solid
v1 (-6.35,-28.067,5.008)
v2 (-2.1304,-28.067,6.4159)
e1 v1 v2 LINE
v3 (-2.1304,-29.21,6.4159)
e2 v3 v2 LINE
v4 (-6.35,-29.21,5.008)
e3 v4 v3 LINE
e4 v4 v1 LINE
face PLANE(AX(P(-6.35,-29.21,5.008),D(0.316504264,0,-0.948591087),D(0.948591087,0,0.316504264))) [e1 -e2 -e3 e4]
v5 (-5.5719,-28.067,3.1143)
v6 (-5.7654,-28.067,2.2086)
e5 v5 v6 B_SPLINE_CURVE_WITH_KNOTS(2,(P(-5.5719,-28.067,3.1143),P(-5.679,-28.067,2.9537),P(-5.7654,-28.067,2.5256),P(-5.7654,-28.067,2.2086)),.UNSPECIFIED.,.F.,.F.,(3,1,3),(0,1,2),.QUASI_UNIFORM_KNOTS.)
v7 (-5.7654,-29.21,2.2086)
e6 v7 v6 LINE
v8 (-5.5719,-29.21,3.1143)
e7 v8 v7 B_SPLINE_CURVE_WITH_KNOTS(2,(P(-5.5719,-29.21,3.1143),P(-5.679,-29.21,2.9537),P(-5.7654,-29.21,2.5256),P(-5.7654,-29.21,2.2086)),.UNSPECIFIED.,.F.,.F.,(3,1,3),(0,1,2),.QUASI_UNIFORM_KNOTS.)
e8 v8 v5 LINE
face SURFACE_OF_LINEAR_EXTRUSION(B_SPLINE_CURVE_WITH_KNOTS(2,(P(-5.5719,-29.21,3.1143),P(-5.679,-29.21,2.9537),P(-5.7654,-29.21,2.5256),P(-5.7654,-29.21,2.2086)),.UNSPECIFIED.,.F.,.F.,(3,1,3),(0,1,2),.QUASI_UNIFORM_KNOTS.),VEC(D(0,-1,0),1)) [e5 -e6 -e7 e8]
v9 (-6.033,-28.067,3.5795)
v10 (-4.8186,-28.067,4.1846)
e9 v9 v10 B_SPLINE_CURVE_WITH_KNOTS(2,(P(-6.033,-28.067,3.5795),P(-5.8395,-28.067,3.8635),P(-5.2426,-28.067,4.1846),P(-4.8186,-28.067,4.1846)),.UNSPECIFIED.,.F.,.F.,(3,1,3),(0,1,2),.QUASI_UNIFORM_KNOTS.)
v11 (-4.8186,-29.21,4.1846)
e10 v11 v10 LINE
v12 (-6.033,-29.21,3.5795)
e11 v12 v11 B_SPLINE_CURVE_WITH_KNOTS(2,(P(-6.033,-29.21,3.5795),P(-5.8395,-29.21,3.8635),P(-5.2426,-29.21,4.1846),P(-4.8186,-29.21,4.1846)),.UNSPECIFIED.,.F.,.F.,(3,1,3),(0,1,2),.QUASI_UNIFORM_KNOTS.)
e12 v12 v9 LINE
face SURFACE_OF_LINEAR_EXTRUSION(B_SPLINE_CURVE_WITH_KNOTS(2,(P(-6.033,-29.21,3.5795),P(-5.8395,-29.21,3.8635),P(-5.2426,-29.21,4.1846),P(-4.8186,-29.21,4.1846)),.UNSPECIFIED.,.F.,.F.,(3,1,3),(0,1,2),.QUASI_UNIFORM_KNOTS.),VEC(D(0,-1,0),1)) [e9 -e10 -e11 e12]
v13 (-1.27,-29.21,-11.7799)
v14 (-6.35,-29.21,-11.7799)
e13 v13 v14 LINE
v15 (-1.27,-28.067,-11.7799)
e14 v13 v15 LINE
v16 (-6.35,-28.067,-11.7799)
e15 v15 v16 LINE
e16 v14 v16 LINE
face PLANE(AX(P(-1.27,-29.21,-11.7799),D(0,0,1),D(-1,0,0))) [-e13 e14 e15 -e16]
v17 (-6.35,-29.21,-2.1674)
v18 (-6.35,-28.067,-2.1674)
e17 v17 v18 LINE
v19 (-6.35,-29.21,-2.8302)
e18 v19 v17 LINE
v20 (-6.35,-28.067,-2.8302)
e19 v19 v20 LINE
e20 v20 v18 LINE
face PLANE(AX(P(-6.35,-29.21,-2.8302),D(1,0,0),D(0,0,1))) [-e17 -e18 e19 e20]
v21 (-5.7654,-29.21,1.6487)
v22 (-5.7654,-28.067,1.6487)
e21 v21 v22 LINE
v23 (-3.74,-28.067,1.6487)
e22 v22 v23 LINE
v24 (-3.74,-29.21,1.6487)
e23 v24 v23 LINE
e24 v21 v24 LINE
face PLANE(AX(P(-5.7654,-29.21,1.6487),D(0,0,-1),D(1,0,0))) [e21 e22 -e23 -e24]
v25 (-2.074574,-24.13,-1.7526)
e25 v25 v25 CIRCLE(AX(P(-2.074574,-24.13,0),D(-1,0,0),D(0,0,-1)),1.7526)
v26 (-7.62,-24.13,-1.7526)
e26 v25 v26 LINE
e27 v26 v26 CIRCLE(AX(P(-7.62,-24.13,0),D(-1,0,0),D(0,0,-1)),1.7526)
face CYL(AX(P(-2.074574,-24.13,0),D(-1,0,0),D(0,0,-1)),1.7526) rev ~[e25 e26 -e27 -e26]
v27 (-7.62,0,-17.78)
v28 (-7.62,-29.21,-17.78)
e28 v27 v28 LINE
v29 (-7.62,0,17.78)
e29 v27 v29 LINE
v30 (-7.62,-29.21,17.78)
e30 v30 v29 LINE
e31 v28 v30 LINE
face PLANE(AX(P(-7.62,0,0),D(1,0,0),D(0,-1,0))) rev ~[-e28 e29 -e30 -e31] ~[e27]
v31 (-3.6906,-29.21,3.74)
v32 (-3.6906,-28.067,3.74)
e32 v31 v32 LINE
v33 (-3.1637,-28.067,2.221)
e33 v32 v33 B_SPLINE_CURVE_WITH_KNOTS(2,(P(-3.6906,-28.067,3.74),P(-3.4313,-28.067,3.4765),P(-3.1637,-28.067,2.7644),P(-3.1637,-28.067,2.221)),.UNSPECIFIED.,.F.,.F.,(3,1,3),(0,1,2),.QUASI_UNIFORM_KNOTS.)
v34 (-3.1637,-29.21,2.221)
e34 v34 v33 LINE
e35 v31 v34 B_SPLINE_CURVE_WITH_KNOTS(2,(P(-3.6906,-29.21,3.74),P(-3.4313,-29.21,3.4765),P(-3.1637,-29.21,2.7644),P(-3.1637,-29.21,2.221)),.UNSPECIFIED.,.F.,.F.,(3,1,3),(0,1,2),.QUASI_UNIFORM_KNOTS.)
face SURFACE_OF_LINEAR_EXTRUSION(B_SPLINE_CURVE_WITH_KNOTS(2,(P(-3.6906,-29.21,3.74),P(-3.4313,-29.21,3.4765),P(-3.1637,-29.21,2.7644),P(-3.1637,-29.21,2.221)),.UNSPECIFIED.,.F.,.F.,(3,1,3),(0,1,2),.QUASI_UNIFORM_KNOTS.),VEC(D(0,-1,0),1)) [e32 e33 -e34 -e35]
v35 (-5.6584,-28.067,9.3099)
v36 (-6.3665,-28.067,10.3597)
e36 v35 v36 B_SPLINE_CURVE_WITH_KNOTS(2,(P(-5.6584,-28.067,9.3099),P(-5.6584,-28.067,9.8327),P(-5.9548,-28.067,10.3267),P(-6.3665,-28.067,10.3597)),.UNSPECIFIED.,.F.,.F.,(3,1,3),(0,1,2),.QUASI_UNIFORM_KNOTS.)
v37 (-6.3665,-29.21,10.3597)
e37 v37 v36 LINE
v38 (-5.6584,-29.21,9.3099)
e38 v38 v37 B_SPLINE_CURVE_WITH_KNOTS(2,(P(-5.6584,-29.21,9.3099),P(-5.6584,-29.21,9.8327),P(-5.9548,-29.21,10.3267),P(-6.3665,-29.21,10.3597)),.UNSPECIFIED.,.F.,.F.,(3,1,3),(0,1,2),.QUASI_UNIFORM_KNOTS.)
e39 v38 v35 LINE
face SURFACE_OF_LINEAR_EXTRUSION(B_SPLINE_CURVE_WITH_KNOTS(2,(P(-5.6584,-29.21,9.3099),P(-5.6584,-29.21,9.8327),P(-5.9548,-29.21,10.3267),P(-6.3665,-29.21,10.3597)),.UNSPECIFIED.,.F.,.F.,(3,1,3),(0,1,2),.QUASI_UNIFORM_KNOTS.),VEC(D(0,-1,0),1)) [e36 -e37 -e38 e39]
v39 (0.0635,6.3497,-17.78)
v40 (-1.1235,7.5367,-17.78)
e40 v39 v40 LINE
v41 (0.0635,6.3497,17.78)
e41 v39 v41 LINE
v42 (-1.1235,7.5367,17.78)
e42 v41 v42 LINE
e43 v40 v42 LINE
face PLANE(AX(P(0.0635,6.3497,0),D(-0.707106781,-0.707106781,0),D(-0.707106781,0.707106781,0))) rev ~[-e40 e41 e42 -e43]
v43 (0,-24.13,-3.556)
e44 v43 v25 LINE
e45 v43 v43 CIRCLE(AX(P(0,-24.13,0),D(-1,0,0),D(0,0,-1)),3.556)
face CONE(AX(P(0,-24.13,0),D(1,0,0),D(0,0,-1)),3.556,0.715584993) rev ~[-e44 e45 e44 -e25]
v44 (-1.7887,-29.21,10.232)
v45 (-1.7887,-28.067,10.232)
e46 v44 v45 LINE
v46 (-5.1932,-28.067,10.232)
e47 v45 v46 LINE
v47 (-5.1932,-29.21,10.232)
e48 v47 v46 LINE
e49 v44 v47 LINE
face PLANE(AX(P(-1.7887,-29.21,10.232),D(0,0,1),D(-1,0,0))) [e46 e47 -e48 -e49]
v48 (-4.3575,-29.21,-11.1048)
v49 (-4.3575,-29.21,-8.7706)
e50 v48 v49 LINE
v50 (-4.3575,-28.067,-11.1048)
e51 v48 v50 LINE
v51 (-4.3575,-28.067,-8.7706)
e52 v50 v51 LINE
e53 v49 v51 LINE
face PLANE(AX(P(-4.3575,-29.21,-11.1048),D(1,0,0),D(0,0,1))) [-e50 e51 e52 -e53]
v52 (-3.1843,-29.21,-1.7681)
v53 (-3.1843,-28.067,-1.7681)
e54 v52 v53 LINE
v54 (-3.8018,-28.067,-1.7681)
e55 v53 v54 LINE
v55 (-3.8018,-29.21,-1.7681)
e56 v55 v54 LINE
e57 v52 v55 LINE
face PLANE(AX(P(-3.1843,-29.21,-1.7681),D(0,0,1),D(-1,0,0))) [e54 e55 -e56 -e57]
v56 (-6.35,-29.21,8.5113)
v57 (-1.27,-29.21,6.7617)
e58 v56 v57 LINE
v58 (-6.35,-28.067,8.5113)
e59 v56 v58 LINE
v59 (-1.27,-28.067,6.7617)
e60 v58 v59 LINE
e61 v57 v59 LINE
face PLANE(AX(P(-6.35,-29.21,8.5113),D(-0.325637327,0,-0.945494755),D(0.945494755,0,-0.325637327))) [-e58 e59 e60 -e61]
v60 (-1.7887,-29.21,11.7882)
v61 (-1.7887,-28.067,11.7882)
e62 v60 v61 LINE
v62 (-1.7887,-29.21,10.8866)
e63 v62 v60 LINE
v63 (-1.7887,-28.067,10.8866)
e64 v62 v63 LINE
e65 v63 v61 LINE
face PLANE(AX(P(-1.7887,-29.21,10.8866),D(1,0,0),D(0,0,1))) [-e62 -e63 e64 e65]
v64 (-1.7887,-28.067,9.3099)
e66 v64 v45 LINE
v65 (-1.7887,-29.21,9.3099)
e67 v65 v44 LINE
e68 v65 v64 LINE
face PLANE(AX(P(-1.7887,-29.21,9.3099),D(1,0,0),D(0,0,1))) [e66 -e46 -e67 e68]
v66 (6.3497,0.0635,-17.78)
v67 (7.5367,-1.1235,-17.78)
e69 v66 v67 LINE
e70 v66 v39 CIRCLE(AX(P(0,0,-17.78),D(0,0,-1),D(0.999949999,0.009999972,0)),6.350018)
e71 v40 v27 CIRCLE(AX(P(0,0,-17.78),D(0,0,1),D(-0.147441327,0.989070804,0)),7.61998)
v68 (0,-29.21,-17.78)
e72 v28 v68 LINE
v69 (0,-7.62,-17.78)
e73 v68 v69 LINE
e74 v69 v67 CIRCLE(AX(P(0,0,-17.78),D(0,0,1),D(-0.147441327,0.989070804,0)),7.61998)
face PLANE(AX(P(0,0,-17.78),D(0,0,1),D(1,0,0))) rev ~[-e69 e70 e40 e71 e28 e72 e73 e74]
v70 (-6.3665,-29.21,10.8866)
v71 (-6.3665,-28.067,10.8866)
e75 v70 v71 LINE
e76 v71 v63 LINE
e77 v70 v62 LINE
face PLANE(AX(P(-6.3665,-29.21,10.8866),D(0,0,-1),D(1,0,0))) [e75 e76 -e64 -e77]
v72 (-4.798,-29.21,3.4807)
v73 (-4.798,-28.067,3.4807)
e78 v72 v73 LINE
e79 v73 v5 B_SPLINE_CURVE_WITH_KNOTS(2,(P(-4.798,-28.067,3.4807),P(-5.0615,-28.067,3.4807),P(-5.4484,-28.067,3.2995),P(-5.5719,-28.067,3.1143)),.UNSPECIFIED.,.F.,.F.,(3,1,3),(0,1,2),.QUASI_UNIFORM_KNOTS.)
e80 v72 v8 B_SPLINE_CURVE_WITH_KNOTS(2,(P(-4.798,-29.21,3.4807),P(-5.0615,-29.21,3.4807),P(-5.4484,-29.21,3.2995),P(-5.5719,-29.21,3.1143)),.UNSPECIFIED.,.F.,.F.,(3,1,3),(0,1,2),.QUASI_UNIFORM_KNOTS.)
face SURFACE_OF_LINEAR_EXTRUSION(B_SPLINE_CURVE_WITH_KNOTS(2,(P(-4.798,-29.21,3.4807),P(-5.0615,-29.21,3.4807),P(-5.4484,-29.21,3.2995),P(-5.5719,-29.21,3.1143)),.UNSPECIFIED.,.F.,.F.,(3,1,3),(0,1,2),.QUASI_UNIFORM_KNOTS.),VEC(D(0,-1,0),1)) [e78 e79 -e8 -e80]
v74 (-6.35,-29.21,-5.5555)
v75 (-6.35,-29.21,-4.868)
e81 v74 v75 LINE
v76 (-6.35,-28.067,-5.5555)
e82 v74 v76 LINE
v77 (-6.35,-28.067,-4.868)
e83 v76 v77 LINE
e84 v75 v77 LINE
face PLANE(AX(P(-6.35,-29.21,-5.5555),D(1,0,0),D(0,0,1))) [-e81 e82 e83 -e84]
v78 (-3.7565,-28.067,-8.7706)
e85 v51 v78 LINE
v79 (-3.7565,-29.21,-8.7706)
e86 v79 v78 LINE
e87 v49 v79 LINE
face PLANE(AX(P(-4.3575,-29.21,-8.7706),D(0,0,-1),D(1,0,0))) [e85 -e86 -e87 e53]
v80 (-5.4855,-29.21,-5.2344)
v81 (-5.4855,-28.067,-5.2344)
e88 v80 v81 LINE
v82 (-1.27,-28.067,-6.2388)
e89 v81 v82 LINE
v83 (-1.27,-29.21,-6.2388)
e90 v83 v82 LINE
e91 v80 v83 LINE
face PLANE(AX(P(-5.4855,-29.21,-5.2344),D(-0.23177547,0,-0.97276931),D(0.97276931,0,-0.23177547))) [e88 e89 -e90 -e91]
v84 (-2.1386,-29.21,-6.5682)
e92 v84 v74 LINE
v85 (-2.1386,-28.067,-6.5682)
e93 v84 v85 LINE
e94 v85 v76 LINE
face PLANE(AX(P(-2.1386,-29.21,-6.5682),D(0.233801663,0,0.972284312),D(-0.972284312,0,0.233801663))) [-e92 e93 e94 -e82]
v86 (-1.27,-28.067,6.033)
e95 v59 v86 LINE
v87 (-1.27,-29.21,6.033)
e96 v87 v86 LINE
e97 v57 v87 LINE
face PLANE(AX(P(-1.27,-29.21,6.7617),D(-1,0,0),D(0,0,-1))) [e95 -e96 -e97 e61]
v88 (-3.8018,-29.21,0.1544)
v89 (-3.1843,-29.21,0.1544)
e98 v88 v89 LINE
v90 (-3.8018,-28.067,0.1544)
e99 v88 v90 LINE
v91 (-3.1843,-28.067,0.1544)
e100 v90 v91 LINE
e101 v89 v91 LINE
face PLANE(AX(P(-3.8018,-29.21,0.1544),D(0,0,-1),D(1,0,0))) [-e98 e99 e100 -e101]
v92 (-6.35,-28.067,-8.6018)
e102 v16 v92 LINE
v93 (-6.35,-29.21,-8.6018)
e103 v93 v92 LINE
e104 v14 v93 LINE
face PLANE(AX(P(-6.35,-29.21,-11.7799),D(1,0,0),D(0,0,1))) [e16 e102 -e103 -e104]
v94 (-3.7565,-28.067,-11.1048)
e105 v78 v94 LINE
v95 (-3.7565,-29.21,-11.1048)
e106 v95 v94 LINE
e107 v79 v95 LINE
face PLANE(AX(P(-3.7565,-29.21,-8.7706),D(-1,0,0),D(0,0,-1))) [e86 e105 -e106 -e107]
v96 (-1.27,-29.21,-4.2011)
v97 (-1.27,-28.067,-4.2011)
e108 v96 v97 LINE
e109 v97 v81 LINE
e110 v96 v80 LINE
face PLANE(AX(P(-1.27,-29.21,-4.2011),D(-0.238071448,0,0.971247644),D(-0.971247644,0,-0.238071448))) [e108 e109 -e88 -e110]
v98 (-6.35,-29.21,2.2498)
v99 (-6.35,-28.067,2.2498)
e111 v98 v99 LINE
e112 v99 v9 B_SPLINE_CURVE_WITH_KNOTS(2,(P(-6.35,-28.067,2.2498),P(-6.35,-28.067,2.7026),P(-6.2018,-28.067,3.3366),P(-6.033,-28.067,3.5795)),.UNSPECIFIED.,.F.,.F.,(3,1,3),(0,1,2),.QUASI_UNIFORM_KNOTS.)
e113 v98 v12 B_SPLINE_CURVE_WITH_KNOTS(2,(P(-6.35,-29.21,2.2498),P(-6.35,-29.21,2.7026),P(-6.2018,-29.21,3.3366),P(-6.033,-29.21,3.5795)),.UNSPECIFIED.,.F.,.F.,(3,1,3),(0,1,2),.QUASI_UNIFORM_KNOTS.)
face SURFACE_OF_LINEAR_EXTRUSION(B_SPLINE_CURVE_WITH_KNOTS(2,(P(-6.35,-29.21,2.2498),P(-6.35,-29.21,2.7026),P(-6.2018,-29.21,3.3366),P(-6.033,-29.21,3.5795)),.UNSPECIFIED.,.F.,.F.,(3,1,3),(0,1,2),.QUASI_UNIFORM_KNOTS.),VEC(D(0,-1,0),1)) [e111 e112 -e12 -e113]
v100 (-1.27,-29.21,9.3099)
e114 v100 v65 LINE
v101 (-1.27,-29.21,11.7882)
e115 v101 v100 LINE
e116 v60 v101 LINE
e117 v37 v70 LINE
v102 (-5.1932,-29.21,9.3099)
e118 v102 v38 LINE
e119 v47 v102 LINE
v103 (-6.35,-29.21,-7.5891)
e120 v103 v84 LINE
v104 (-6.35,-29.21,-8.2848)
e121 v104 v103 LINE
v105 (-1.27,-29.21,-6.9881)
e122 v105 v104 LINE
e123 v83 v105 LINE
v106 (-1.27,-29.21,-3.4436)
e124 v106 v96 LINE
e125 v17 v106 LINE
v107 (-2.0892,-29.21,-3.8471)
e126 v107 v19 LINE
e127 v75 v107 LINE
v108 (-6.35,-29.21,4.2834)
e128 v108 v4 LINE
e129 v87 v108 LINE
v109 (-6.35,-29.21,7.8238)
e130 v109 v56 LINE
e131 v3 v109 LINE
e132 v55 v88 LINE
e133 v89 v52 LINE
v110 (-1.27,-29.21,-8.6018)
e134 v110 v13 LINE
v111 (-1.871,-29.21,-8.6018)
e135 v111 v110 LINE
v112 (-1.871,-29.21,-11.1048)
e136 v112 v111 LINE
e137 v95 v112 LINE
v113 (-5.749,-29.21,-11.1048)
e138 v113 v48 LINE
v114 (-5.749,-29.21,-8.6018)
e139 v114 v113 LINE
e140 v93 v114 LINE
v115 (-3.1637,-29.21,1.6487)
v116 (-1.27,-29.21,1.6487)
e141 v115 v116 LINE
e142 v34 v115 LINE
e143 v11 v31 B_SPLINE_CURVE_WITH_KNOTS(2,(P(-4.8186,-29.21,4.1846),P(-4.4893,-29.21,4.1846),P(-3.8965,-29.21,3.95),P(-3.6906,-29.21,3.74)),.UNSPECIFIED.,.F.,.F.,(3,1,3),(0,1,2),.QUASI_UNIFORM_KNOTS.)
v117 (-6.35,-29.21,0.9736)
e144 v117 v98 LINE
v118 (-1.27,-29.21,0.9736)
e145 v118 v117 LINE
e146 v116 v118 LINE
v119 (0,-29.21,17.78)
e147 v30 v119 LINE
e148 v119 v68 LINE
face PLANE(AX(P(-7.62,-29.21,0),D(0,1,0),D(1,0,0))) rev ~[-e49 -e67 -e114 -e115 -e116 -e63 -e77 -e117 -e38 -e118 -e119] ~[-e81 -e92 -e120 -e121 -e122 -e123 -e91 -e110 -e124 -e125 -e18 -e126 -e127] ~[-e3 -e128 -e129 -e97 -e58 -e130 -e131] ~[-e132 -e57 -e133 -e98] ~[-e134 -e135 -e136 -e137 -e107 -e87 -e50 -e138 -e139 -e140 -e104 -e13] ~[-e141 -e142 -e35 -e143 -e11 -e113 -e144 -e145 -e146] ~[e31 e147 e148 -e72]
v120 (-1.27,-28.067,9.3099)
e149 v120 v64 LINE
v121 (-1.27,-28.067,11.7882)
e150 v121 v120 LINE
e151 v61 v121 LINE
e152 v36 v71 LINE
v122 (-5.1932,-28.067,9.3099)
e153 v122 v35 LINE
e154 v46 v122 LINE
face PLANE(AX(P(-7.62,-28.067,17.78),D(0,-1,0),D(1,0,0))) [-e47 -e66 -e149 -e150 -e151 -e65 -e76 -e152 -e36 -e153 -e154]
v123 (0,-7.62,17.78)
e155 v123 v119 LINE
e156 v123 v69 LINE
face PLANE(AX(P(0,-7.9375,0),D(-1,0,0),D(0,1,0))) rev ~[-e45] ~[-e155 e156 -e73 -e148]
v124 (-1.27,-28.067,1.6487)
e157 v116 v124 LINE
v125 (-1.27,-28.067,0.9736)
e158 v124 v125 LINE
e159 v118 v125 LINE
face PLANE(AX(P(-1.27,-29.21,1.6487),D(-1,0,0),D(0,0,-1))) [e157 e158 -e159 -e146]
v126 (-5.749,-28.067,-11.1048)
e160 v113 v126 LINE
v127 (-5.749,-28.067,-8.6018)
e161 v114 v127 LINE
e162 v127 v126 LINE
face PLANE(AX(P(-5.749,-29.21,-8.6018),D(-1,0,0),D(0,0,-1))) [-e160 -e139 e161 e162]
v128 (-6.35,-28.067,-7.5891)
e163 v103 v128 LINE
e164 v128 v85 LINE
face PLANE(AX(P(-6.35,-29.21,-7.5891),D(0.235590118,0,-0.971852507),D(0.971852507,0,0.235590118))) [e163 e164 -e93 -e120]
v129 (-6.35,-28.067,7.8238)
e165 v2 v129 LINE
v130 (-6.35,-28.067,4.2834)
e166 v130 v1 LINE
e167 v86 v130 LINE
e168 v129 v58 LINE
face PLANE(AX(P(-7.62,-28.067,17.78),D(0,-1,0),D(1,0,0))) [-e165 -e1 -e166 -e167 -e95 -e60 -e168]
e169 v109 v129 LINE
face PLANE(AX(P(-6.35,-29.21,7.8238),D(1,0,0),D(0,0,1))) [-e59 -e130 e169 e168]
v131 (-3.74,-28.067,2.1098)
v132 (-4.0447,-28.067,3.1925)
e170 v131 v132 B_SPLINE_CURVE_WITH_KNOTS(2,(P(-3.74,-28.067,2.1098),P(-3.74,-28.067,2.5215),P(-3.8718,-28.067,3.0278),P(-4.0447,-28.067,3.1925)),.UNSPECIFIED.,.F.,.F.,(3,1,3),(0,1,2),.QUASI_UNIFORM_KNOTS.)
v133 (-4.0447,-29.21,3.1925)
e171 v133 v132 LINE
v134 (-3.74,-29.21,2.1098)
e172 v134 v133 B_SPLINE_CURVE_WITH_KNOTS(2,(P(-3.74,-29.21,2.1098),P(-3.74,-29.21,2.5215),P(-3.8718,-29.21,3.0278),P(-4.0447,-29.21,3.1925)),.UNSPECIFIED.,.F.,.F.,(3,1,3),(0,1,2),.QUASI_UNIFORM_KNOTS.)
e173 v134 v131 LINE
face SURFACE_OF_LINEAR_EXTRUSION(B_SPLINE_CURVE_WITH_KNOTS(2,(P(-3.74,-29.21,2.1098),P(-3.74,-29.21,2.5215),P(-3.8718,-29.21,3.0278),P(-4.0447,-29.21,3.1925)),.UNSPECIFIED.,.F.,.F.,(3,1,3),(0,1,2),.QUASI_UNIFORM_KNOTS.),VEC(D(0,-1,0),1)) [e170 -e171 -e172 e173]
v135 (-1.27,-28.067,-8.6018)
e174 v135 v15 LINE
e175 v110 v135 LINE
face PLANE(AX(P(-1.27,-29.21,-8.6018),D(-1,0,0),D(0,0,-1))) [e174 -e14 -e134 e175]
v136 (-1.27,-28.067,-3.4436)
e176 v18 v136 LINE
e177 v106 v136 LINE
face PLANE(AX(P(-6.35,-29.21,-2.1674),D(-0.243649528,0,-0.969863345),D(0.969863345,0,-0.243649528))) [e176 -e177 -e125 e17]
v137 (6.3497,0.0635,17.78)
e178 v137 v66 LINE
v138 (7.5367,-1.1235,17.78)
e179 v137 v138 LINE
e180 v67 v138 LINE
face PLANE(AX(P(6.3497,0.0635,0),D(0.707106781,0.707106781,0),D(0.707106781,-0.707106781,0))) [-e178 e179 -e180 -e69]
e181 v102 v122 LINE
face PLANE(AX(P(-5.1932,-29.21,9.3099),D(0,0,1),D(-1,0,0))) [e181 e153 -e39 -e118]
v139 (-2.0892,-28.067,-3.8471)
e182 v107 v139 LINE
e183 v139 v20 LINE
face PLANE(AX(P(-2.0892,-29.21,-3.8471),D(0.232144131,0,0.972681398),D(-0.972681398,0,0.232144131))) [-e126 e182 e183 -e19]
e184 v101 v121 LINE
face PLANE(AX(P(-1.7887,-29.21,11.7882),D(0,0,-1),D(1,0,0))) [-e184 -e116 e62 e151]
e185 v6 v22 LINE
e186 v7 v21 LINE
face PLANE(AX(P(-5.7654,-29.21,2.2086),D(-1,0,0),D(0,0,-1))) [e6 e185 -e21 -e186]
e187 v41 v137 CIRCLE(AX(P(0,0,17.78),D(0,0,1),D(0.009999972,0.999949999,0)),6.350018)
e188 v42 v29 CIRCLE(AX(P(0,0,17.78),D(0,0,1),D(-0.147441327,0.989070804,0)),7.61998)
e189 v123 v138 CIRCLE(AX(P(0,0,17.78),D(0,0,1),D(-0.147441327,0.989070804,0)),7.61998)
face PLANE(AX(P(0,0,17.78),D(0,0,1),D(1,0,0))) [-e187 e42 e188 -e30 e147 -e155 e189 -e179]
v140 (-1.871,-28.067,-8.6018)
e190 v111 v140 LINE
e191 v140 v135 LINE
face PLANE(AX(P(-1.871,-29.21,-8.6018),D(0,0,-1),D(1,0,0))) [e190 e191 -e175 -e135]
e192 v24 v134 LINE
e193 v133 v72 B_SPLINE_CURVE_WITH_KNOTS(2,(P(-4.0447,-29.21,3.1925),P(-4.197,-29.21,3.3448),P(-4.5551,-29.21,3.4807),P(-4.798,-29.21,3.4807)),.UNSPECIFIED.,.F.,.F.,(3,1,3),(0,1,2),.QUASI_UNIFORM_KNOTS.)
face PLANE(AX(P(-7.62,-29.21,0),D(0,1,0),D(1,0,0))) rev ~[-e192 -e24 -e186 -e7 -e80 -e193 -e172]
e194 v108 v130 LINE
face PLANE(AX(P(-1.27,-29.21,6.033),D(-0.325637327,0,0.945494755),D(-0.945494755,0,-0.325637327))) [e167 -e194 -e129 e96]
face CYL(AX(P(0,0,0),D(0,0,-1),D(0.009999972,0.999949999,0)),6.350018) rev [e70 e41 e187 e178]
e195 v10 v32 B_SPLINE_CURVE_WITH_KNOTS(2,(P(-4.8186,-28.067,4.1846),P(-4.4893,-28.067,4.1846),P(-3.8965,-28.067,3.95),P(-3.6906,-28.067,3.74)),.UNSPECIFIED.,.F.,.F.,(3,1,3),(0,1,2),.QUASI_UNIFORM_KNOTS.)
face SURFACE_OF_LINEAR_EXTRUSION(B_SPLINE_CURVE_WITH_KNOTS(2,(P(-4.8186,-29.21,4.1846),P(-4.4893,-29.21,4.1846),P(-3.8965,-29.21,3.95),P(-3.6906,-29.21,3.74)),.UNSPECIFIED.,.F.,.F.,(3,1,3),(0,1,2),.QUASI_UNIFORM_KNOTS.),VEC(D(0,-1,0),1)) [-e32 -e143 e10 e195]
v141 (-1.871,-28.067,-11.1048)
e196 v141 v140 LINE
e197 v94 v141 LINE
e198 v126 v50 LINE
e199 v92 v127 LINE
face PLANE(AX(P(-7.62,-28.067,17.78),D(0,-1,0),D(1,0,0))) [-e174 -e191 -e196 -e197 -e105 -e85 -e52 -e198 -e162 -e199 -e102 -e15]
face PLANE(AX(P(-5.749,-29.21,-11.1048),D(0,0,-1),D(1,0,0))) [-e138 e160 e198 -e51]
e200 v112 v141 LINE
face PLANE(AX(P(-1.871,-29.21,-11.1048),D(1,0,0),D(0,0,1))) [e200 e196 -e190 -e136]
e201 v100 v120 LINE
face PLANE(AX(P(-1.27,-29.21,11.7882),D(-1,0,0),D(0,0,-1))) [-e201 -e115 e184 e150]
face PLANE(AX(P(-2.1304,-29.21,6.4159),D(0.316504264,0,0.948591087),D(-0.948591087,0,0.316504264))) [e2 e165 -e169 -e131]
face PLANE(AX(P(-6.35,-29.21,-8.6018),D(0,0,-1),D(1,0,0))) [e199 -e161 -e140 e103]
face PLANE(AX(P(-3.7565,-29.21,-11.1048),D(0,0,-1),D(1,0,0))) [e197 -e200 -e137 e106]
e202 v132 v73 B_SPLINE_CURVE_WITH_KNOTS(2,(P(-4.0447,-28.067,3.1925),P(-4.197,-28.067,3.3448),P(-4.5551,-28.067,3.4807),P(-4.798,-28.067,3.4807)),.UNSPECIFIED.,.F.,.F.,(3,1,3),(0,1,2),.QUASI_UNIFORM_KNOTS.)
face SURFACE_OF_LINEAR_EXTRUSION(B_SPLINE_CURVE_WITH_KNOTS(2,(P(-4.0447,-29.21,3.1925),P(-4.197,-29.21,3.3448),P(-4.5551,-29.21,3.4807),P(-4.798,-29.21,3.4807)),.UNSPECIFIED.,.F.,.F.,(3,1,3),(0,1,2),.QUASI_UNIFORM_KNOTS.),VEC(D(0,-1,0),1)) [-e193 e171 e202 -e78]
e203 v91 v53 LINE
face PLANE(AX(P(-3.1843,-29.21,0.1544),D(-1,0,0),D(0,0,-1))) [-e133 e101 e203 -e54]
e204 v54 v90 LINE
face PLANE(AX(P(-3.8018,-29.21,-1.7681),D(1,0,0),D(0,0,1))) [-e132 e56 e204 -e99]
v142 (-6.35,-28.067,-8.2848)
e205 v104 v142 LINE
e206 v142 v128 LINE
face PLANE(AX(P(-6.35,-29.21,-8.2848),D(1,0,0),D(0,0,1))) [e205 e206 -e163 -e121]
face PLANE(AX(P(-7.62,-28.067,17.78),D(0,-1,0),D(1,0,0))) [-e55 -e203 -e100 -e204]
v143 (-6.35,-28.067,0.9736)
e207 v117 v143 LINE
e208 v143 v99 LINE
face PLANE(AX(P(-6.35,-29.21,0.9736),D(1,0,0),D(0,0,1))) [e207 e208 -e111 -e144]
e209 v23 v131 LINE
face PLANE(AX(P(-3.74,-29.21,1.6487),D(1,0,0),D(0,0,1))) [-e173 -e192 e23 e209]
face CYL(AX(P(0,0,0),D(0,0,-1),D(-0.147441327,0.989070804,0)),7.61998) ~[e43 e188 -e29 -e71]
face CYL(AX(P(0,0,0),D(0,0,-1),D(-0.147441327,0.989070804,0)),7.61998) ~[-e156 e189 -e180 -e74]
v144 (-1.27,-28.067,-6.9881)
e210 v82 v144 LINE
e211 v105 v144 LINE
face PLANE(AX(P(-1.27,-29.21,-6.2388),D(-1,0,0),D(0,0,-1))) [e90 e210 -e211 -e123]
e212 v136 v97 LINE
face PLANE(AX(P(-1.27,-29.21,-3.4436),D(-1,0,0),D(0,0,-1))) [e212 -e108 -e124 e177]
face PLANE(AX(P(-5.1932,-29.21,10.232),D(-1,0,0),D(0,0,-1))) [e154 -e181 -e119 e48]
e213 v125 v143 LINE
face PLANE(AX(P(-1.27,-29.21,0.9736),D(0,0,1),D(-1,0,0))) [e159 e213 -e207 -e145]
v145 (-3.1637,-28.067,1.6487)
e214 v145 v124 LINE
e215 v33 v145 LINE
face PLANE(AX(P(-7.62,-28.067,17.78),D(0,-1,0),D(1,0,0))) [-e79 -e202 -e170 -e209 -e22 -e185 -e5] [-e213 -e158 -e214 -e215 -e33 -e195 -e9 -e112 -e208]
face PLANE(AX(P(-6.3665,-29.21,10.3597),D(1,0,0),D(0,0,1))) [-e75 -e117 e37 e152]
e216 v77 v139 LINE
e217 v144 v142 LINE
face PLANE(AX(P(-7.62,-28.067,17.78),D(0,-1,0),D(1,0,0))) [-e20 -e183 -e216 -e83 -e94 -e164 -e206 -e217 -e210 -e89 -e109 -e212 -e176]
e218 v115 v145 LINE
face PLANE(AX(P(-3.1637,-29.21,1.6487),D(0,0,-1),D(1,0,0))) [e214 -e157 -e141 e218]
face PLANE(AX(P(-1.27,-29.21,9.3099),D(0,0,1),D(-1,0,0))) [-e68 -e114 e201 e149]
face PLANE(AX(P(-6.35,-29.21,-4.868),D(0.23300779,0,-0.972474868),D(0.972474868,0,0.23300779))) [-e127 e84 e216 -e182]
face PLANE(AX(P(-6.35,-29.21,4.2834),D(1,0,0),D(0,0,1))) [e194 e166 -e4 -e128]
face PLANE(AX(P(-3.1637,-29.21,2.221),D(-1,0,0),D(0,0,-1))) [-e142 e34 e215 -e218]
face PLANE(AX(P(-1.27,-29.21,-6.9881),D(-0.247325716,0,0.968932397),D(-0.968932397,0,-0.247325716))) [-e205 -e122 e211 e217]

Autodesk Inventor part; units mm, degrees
ref_plane "YZ Plane" through (0, 0, 0) normal (1, 0, 0) x (0, 1, 0)
ref_plane "XZ Plane" through (0, 0, 0) normal (0, 1, 0) x (-1, 0, 0)
ref_plane "XY Plane" through (0, 0, 0) normal (0, 0, 1) x (1, 0, 0)
sketch "Sketch4" plane through (0, 0, 0) normal (0, 0, 1) x (1, 0, 0)
  arc A0 (0.0635, 6.3497) -> (6.3497, 0.0635) centre (0, 0) ccw
  arc A1 (-1.1235, 7.5367) -> (7.5367, -1.1235) centre (0, 0) ccw
  line L0 (0, 0) -> (0, 7.9375) construction
  line L1 (0.0635, 6.3497) -> (6.3497, 0.0635) construction
  line L2 (0.0635, 6.3497) -> (-1.1235, 7.5367)
  line L3 (6.3497, 0.0635) -> (7.5367, -1.1235)
  circle A2 centre (0, 0) radius 6.35
  dimension "d10" = 12.7
  dimension "d11" = 1.27
  dimension "d12" = 45
  dimension "d13" = 8.89
extrude "Extrusion3" add sketch "Sketch4" along normal mid plane 35.56 contours A0 L3 A1 L2
sketch "Sketch5" plane through (0, 0, 0) normal (0, 0, 1) x (1, 0, 0)
  arc A0 (-1.1235, 7.5367) -> (7.5367, -1.1235) centre (0, 0) ccw projected
  line L0 (-7.62, 0) -> (-7.62, -29.21)
  line L1 (-7.62, -29.21) -> (0, -29.21)
  line L2 (0, -29.21) -> (0, -7.62)
  circle A1 centre (0, 0) radius 7.9375
  dimension "d16" = 21.59
extrude "Extrusion4" add sketch "Sketch5" along normal mid plane 35.56 contours A0 L2 A1 L0 | A1 L2 L1 L0 picked at (-7.3048, -2.4081)
sketch "Sketch6" plane through (0, -29.21, 17.78) normal (1, 0, 0) x (0, 0, -1)
  line L0 (0, 21.59) -> (35.56, 21.59) projected
  line L1 (35.56, 21.59) -> (35.56, 0) projected
  line L2 (0, 0) -> (35.56, 0) projected
  line L3 (0, 0) -> (0, 21.59) projected
  line L4 (17.78, 0) -> (17.78, 21.59) construction
  point P0 (17.78, 29.21)
  point P1 (17.78, 5.08)
  dimension "d30" = 5.08
  dimension "d31" = 0
hole "Hole1" at (0, -24.13, 0) direction (-1, 0, 0) diameter 3.5052 end through all countersink diameter 7.112 countersink angle 82
sketch "Sketch10" plane through (-7.62, -29.21, 17.78) normal (0, -1, 0) x (1, 0, 0)
  line L0 (0, -35.56) -> (0, 0) projected
  line L1 (7.62, -35.56) -> (0, -35.56) projected
  line L2 (7.62, 0) -> (7.62, -35.56) projected
  line L3 (0, 0) -> (7.62, 0) projected
  line L4 (3.81, -35.56) -> (3.81, 0) construction
  line L5 (6.35, -29.5599) -> (1.27, -29.5599)
  line L6 (1.27, -29.5599) -> (1.27, -26.3818)
  line L7 (1.27, -26.3818) -> (1.871, -26.3818)
  line L8 (1.871, -26.3818) -> (1.871, -28.8848)
  line L9 (1.871, -28.8848) -> (3.2625, -28.8848)
  line L10 (3.2625, -28.8848) -> (3.2625, -26.5506)
  line L11 (3.2625, -26.5506) -> (3.8635, -26.5506)
  line L12 (3.8635, -26.5506) -> (3.8635, -28.8848)
  line L13 (3.8635, -28.8848) -> (5.749, -28.8848)
  line L14 (5.749, -28.8848) -> (5.749, -26.3818)
  line L15 (5.749, -26.3818) -> (6.35, -26.3818)
  line L16 (6.35, -26.3818) -> (6.35, -29.5599)
  line L17 (1.27, -19.9474) -> (6.35, -21.2236)
  line L18 (6.35, -21.2236) -> (6.35, -21.9811)
  line L19 (6.35, -21.9811) -> (2.1345, -23.0144)
  line L20 (2.1345, -23.0144) -> (6.35, -24.0188)
  line L21 (6.35, -24.0188) -> (6.35, -24.7681)
  line L22 (6.35, -24.7681) -> (1.27, -26.0648)
  line L23 (1.27, -26.0648) -> (1.27, -25.3691)
  line L24 (1.27, -25.3691) -> (5.4814, -24.3482)
  line L25 (5.4814, -24.3482) -> (1.27, -23.3355)
  line L26 (1.27, -23.3355) -> (1.27, -22.648)
  line L27 (1.27, -22.648) -> (5.5308, -21.6271)
  line L28 (5.5308, -21.6271) -> (1.27, -20.6102)
  line L29 (1.27, -20.6102) -> (1.27, -19.9474)
  line L30 (4.4357, -17.6256) -> (4.4357, -19.5481)
  line L31 (4.4357, -19.5481) -> (3.8182, -19.5481)
  line L32 (3.8182, -19.5481) -> (3.8182, -17.6256)
  line L33 (3.8182, -17.6256) -> (4.4357, -17.6256)
  spline S0 degree 2 poles (2.8014, -13.5954) (3.1307, -13.5954) (3.7235, -13.83) (3.9294, -14.04) knots 0 0 0 1 2 2 2
  spline S1 degree 2 poles (3.9294, -14.04) (4.1887, -14.3035) (4.4563, -15.0156) (4.4563, -15.559) knots 0 0 0 1 2 2 2
  line L34 (4.4563, -15.559) -> (4.4563, -16.1313)
  line L35 (4.4563, -16.1313) -> (6.35, -16.1313)
  line L36 (6.35, -16.1313) -> (6.35, -16.8064)
  line L37 (6.35, -16.8064) -> (1.27, -16.8064)
  line L38 (1.27, -16.8064) -> (1.27, -15.5302)
  spline S2 degree 2 poles (1.27, -15.5302) (1.27, -15.0774) (1.4182, -14.4434) (1.587, -14.2005) knots 0 0 0 1 2 2 2
  spline S3 degree 2 poles (1.587, -14.2005) (1.7805, -13.9165) (2.3774, -13.5954) (2.8014, -13.5954) knots 0 0 0 1 2 2 2
  spline S4 degree 2 poles (2.822, -14.2993) (2.5585, -14.2993) (2.1716, -14.4805) (2.0481, -14.6657) knots 0 0 0 1 2 2 2
  spline S5 degree 2 poles (2.0481, -14.6657) (1.941, -14.8263) (1.8546, -15.2544) (1.8546, -15.5714) knots 0 0 0 1 2 2 2
  line L39 (1.8546, -15.5714) -> (1.8546, -16.1313)
  line L40 (1.8546, -16.1313) -> (3.88, -16.1313)
  line L41 (3.88, -16.1313) -> (3.88, -15.6702)
  spline S6 degree 2 poles (3.88, -15.6702) (3.88, -15.2585) (3.7482, -14.7522) (3.5753, -14.5875) knots 0 0 0 1 2 2 2
  spline S7 degree 2 poles (3.5753, -14.5875) (3.423, -14.4352) (3.0649, -14.2993) (2.822, -14.2993) knots 0 0 0 1 2 2 2
  line L42 (1.27, -9.2687) -> (6.35, -11.0183)
  line L43 (6.35, -11.0183) -> (6.35, -11.747)
  line L44 (6.35, -11.747) -> (1.27, -13.4966)
  line L45 (1.27, -13.4966) -> (1.27, -12.772)
  line L46 (1.27, -12.772) -> (5.4896, -11.3641)
  line L47 (5.4896, -11.3641) -> (1.27, -9.9562)
  line L48 (1.27, -9.9562) -> (1.27, -9.2687)
  line L49 (6.35, -5.9918) -> (6.35, -8.4701)
  line L50 (6.35, -8.4701) -> (5.8313, -8.4701)
  line L51 (5.8313, -8.4701) -> (5.8313, -7.548)
  line L52 (5.8313, -7.548) -> (2.4268, -7.548)
  line L53 (2.4268, -7.548) -> (2.4268, -8.4701)
  line L54 (2.4268, -8.4701) -> (1.9616, -8.4701)
  spline S8 degree 2 poles (1.9616, -8.4701) (1.9616, -7.9473) (1.6652, -7.4533) (1.2535, -7.4203) knots 0 0 0 1 2 2 2
  line L55 (1.2535, -7.4203) -> (1.2535, -6.8934)
  line L56 (1.2535, -6.8934) -> (5.8313, -6.8934)
  line L57 (5.8313, -6.8934) -> (5.8313, -5.9918)
  line L58 (5.8313, -5.9918) -> (6.35, -5.9918)
  point P0 (7.62, -17.78)
extrude "Text" cut sketch "Sketch10" against normal blind 1.143 contours L5 L6 L7 L8 L9 L10 L11 L12 L13 L14 L15 L16 | L17 L18 L19 L20 L21 L22 L23 L24 L25 L26 L27 L28 L29 | L30 L31 L32 L33 | S0 S1 L34 L35 L36 L37 L38 S2 S3 | L42 L43 L44 L45 L46 L47 L48 | L49 L50 L51 L52 L53 L54 S8 L55 L56 L57 L58
equation "\"d10\" = shadeDiameter"
equation "\"d11\" = shadeHolderWallThickness"
equation "\"d13\" = openingForShade"
equation "\"d14\" = partWidth"
equation "\"d16\" = flatBelowShade"
equation "\"d17\" = partWidth"
equation "\"d30\" = holeHeightAboveBottom"
equation "\"d28\" = textDepth"
equation "\"shadeDiameter\" = 12.7"
equation "\"partWidth\" = 35.56"
equation "\"backThickness\" = 1.905"
equation "\"backHeight\" = 25.4"
equation "\"cutTiltAngle\" = 45deg"
equation "\"flatBelowShade\" = 21.59"
equation "\"shadeHolderWallThickness\" = 1.27"
equation "\"openingForShade\" = 8.89"
equation "\"textDepth\" = 1.143"
equation "\"holeHeightAboveBottom\" = 5.08"
properties part number "shadeHolderEmergencyExitWindow"
